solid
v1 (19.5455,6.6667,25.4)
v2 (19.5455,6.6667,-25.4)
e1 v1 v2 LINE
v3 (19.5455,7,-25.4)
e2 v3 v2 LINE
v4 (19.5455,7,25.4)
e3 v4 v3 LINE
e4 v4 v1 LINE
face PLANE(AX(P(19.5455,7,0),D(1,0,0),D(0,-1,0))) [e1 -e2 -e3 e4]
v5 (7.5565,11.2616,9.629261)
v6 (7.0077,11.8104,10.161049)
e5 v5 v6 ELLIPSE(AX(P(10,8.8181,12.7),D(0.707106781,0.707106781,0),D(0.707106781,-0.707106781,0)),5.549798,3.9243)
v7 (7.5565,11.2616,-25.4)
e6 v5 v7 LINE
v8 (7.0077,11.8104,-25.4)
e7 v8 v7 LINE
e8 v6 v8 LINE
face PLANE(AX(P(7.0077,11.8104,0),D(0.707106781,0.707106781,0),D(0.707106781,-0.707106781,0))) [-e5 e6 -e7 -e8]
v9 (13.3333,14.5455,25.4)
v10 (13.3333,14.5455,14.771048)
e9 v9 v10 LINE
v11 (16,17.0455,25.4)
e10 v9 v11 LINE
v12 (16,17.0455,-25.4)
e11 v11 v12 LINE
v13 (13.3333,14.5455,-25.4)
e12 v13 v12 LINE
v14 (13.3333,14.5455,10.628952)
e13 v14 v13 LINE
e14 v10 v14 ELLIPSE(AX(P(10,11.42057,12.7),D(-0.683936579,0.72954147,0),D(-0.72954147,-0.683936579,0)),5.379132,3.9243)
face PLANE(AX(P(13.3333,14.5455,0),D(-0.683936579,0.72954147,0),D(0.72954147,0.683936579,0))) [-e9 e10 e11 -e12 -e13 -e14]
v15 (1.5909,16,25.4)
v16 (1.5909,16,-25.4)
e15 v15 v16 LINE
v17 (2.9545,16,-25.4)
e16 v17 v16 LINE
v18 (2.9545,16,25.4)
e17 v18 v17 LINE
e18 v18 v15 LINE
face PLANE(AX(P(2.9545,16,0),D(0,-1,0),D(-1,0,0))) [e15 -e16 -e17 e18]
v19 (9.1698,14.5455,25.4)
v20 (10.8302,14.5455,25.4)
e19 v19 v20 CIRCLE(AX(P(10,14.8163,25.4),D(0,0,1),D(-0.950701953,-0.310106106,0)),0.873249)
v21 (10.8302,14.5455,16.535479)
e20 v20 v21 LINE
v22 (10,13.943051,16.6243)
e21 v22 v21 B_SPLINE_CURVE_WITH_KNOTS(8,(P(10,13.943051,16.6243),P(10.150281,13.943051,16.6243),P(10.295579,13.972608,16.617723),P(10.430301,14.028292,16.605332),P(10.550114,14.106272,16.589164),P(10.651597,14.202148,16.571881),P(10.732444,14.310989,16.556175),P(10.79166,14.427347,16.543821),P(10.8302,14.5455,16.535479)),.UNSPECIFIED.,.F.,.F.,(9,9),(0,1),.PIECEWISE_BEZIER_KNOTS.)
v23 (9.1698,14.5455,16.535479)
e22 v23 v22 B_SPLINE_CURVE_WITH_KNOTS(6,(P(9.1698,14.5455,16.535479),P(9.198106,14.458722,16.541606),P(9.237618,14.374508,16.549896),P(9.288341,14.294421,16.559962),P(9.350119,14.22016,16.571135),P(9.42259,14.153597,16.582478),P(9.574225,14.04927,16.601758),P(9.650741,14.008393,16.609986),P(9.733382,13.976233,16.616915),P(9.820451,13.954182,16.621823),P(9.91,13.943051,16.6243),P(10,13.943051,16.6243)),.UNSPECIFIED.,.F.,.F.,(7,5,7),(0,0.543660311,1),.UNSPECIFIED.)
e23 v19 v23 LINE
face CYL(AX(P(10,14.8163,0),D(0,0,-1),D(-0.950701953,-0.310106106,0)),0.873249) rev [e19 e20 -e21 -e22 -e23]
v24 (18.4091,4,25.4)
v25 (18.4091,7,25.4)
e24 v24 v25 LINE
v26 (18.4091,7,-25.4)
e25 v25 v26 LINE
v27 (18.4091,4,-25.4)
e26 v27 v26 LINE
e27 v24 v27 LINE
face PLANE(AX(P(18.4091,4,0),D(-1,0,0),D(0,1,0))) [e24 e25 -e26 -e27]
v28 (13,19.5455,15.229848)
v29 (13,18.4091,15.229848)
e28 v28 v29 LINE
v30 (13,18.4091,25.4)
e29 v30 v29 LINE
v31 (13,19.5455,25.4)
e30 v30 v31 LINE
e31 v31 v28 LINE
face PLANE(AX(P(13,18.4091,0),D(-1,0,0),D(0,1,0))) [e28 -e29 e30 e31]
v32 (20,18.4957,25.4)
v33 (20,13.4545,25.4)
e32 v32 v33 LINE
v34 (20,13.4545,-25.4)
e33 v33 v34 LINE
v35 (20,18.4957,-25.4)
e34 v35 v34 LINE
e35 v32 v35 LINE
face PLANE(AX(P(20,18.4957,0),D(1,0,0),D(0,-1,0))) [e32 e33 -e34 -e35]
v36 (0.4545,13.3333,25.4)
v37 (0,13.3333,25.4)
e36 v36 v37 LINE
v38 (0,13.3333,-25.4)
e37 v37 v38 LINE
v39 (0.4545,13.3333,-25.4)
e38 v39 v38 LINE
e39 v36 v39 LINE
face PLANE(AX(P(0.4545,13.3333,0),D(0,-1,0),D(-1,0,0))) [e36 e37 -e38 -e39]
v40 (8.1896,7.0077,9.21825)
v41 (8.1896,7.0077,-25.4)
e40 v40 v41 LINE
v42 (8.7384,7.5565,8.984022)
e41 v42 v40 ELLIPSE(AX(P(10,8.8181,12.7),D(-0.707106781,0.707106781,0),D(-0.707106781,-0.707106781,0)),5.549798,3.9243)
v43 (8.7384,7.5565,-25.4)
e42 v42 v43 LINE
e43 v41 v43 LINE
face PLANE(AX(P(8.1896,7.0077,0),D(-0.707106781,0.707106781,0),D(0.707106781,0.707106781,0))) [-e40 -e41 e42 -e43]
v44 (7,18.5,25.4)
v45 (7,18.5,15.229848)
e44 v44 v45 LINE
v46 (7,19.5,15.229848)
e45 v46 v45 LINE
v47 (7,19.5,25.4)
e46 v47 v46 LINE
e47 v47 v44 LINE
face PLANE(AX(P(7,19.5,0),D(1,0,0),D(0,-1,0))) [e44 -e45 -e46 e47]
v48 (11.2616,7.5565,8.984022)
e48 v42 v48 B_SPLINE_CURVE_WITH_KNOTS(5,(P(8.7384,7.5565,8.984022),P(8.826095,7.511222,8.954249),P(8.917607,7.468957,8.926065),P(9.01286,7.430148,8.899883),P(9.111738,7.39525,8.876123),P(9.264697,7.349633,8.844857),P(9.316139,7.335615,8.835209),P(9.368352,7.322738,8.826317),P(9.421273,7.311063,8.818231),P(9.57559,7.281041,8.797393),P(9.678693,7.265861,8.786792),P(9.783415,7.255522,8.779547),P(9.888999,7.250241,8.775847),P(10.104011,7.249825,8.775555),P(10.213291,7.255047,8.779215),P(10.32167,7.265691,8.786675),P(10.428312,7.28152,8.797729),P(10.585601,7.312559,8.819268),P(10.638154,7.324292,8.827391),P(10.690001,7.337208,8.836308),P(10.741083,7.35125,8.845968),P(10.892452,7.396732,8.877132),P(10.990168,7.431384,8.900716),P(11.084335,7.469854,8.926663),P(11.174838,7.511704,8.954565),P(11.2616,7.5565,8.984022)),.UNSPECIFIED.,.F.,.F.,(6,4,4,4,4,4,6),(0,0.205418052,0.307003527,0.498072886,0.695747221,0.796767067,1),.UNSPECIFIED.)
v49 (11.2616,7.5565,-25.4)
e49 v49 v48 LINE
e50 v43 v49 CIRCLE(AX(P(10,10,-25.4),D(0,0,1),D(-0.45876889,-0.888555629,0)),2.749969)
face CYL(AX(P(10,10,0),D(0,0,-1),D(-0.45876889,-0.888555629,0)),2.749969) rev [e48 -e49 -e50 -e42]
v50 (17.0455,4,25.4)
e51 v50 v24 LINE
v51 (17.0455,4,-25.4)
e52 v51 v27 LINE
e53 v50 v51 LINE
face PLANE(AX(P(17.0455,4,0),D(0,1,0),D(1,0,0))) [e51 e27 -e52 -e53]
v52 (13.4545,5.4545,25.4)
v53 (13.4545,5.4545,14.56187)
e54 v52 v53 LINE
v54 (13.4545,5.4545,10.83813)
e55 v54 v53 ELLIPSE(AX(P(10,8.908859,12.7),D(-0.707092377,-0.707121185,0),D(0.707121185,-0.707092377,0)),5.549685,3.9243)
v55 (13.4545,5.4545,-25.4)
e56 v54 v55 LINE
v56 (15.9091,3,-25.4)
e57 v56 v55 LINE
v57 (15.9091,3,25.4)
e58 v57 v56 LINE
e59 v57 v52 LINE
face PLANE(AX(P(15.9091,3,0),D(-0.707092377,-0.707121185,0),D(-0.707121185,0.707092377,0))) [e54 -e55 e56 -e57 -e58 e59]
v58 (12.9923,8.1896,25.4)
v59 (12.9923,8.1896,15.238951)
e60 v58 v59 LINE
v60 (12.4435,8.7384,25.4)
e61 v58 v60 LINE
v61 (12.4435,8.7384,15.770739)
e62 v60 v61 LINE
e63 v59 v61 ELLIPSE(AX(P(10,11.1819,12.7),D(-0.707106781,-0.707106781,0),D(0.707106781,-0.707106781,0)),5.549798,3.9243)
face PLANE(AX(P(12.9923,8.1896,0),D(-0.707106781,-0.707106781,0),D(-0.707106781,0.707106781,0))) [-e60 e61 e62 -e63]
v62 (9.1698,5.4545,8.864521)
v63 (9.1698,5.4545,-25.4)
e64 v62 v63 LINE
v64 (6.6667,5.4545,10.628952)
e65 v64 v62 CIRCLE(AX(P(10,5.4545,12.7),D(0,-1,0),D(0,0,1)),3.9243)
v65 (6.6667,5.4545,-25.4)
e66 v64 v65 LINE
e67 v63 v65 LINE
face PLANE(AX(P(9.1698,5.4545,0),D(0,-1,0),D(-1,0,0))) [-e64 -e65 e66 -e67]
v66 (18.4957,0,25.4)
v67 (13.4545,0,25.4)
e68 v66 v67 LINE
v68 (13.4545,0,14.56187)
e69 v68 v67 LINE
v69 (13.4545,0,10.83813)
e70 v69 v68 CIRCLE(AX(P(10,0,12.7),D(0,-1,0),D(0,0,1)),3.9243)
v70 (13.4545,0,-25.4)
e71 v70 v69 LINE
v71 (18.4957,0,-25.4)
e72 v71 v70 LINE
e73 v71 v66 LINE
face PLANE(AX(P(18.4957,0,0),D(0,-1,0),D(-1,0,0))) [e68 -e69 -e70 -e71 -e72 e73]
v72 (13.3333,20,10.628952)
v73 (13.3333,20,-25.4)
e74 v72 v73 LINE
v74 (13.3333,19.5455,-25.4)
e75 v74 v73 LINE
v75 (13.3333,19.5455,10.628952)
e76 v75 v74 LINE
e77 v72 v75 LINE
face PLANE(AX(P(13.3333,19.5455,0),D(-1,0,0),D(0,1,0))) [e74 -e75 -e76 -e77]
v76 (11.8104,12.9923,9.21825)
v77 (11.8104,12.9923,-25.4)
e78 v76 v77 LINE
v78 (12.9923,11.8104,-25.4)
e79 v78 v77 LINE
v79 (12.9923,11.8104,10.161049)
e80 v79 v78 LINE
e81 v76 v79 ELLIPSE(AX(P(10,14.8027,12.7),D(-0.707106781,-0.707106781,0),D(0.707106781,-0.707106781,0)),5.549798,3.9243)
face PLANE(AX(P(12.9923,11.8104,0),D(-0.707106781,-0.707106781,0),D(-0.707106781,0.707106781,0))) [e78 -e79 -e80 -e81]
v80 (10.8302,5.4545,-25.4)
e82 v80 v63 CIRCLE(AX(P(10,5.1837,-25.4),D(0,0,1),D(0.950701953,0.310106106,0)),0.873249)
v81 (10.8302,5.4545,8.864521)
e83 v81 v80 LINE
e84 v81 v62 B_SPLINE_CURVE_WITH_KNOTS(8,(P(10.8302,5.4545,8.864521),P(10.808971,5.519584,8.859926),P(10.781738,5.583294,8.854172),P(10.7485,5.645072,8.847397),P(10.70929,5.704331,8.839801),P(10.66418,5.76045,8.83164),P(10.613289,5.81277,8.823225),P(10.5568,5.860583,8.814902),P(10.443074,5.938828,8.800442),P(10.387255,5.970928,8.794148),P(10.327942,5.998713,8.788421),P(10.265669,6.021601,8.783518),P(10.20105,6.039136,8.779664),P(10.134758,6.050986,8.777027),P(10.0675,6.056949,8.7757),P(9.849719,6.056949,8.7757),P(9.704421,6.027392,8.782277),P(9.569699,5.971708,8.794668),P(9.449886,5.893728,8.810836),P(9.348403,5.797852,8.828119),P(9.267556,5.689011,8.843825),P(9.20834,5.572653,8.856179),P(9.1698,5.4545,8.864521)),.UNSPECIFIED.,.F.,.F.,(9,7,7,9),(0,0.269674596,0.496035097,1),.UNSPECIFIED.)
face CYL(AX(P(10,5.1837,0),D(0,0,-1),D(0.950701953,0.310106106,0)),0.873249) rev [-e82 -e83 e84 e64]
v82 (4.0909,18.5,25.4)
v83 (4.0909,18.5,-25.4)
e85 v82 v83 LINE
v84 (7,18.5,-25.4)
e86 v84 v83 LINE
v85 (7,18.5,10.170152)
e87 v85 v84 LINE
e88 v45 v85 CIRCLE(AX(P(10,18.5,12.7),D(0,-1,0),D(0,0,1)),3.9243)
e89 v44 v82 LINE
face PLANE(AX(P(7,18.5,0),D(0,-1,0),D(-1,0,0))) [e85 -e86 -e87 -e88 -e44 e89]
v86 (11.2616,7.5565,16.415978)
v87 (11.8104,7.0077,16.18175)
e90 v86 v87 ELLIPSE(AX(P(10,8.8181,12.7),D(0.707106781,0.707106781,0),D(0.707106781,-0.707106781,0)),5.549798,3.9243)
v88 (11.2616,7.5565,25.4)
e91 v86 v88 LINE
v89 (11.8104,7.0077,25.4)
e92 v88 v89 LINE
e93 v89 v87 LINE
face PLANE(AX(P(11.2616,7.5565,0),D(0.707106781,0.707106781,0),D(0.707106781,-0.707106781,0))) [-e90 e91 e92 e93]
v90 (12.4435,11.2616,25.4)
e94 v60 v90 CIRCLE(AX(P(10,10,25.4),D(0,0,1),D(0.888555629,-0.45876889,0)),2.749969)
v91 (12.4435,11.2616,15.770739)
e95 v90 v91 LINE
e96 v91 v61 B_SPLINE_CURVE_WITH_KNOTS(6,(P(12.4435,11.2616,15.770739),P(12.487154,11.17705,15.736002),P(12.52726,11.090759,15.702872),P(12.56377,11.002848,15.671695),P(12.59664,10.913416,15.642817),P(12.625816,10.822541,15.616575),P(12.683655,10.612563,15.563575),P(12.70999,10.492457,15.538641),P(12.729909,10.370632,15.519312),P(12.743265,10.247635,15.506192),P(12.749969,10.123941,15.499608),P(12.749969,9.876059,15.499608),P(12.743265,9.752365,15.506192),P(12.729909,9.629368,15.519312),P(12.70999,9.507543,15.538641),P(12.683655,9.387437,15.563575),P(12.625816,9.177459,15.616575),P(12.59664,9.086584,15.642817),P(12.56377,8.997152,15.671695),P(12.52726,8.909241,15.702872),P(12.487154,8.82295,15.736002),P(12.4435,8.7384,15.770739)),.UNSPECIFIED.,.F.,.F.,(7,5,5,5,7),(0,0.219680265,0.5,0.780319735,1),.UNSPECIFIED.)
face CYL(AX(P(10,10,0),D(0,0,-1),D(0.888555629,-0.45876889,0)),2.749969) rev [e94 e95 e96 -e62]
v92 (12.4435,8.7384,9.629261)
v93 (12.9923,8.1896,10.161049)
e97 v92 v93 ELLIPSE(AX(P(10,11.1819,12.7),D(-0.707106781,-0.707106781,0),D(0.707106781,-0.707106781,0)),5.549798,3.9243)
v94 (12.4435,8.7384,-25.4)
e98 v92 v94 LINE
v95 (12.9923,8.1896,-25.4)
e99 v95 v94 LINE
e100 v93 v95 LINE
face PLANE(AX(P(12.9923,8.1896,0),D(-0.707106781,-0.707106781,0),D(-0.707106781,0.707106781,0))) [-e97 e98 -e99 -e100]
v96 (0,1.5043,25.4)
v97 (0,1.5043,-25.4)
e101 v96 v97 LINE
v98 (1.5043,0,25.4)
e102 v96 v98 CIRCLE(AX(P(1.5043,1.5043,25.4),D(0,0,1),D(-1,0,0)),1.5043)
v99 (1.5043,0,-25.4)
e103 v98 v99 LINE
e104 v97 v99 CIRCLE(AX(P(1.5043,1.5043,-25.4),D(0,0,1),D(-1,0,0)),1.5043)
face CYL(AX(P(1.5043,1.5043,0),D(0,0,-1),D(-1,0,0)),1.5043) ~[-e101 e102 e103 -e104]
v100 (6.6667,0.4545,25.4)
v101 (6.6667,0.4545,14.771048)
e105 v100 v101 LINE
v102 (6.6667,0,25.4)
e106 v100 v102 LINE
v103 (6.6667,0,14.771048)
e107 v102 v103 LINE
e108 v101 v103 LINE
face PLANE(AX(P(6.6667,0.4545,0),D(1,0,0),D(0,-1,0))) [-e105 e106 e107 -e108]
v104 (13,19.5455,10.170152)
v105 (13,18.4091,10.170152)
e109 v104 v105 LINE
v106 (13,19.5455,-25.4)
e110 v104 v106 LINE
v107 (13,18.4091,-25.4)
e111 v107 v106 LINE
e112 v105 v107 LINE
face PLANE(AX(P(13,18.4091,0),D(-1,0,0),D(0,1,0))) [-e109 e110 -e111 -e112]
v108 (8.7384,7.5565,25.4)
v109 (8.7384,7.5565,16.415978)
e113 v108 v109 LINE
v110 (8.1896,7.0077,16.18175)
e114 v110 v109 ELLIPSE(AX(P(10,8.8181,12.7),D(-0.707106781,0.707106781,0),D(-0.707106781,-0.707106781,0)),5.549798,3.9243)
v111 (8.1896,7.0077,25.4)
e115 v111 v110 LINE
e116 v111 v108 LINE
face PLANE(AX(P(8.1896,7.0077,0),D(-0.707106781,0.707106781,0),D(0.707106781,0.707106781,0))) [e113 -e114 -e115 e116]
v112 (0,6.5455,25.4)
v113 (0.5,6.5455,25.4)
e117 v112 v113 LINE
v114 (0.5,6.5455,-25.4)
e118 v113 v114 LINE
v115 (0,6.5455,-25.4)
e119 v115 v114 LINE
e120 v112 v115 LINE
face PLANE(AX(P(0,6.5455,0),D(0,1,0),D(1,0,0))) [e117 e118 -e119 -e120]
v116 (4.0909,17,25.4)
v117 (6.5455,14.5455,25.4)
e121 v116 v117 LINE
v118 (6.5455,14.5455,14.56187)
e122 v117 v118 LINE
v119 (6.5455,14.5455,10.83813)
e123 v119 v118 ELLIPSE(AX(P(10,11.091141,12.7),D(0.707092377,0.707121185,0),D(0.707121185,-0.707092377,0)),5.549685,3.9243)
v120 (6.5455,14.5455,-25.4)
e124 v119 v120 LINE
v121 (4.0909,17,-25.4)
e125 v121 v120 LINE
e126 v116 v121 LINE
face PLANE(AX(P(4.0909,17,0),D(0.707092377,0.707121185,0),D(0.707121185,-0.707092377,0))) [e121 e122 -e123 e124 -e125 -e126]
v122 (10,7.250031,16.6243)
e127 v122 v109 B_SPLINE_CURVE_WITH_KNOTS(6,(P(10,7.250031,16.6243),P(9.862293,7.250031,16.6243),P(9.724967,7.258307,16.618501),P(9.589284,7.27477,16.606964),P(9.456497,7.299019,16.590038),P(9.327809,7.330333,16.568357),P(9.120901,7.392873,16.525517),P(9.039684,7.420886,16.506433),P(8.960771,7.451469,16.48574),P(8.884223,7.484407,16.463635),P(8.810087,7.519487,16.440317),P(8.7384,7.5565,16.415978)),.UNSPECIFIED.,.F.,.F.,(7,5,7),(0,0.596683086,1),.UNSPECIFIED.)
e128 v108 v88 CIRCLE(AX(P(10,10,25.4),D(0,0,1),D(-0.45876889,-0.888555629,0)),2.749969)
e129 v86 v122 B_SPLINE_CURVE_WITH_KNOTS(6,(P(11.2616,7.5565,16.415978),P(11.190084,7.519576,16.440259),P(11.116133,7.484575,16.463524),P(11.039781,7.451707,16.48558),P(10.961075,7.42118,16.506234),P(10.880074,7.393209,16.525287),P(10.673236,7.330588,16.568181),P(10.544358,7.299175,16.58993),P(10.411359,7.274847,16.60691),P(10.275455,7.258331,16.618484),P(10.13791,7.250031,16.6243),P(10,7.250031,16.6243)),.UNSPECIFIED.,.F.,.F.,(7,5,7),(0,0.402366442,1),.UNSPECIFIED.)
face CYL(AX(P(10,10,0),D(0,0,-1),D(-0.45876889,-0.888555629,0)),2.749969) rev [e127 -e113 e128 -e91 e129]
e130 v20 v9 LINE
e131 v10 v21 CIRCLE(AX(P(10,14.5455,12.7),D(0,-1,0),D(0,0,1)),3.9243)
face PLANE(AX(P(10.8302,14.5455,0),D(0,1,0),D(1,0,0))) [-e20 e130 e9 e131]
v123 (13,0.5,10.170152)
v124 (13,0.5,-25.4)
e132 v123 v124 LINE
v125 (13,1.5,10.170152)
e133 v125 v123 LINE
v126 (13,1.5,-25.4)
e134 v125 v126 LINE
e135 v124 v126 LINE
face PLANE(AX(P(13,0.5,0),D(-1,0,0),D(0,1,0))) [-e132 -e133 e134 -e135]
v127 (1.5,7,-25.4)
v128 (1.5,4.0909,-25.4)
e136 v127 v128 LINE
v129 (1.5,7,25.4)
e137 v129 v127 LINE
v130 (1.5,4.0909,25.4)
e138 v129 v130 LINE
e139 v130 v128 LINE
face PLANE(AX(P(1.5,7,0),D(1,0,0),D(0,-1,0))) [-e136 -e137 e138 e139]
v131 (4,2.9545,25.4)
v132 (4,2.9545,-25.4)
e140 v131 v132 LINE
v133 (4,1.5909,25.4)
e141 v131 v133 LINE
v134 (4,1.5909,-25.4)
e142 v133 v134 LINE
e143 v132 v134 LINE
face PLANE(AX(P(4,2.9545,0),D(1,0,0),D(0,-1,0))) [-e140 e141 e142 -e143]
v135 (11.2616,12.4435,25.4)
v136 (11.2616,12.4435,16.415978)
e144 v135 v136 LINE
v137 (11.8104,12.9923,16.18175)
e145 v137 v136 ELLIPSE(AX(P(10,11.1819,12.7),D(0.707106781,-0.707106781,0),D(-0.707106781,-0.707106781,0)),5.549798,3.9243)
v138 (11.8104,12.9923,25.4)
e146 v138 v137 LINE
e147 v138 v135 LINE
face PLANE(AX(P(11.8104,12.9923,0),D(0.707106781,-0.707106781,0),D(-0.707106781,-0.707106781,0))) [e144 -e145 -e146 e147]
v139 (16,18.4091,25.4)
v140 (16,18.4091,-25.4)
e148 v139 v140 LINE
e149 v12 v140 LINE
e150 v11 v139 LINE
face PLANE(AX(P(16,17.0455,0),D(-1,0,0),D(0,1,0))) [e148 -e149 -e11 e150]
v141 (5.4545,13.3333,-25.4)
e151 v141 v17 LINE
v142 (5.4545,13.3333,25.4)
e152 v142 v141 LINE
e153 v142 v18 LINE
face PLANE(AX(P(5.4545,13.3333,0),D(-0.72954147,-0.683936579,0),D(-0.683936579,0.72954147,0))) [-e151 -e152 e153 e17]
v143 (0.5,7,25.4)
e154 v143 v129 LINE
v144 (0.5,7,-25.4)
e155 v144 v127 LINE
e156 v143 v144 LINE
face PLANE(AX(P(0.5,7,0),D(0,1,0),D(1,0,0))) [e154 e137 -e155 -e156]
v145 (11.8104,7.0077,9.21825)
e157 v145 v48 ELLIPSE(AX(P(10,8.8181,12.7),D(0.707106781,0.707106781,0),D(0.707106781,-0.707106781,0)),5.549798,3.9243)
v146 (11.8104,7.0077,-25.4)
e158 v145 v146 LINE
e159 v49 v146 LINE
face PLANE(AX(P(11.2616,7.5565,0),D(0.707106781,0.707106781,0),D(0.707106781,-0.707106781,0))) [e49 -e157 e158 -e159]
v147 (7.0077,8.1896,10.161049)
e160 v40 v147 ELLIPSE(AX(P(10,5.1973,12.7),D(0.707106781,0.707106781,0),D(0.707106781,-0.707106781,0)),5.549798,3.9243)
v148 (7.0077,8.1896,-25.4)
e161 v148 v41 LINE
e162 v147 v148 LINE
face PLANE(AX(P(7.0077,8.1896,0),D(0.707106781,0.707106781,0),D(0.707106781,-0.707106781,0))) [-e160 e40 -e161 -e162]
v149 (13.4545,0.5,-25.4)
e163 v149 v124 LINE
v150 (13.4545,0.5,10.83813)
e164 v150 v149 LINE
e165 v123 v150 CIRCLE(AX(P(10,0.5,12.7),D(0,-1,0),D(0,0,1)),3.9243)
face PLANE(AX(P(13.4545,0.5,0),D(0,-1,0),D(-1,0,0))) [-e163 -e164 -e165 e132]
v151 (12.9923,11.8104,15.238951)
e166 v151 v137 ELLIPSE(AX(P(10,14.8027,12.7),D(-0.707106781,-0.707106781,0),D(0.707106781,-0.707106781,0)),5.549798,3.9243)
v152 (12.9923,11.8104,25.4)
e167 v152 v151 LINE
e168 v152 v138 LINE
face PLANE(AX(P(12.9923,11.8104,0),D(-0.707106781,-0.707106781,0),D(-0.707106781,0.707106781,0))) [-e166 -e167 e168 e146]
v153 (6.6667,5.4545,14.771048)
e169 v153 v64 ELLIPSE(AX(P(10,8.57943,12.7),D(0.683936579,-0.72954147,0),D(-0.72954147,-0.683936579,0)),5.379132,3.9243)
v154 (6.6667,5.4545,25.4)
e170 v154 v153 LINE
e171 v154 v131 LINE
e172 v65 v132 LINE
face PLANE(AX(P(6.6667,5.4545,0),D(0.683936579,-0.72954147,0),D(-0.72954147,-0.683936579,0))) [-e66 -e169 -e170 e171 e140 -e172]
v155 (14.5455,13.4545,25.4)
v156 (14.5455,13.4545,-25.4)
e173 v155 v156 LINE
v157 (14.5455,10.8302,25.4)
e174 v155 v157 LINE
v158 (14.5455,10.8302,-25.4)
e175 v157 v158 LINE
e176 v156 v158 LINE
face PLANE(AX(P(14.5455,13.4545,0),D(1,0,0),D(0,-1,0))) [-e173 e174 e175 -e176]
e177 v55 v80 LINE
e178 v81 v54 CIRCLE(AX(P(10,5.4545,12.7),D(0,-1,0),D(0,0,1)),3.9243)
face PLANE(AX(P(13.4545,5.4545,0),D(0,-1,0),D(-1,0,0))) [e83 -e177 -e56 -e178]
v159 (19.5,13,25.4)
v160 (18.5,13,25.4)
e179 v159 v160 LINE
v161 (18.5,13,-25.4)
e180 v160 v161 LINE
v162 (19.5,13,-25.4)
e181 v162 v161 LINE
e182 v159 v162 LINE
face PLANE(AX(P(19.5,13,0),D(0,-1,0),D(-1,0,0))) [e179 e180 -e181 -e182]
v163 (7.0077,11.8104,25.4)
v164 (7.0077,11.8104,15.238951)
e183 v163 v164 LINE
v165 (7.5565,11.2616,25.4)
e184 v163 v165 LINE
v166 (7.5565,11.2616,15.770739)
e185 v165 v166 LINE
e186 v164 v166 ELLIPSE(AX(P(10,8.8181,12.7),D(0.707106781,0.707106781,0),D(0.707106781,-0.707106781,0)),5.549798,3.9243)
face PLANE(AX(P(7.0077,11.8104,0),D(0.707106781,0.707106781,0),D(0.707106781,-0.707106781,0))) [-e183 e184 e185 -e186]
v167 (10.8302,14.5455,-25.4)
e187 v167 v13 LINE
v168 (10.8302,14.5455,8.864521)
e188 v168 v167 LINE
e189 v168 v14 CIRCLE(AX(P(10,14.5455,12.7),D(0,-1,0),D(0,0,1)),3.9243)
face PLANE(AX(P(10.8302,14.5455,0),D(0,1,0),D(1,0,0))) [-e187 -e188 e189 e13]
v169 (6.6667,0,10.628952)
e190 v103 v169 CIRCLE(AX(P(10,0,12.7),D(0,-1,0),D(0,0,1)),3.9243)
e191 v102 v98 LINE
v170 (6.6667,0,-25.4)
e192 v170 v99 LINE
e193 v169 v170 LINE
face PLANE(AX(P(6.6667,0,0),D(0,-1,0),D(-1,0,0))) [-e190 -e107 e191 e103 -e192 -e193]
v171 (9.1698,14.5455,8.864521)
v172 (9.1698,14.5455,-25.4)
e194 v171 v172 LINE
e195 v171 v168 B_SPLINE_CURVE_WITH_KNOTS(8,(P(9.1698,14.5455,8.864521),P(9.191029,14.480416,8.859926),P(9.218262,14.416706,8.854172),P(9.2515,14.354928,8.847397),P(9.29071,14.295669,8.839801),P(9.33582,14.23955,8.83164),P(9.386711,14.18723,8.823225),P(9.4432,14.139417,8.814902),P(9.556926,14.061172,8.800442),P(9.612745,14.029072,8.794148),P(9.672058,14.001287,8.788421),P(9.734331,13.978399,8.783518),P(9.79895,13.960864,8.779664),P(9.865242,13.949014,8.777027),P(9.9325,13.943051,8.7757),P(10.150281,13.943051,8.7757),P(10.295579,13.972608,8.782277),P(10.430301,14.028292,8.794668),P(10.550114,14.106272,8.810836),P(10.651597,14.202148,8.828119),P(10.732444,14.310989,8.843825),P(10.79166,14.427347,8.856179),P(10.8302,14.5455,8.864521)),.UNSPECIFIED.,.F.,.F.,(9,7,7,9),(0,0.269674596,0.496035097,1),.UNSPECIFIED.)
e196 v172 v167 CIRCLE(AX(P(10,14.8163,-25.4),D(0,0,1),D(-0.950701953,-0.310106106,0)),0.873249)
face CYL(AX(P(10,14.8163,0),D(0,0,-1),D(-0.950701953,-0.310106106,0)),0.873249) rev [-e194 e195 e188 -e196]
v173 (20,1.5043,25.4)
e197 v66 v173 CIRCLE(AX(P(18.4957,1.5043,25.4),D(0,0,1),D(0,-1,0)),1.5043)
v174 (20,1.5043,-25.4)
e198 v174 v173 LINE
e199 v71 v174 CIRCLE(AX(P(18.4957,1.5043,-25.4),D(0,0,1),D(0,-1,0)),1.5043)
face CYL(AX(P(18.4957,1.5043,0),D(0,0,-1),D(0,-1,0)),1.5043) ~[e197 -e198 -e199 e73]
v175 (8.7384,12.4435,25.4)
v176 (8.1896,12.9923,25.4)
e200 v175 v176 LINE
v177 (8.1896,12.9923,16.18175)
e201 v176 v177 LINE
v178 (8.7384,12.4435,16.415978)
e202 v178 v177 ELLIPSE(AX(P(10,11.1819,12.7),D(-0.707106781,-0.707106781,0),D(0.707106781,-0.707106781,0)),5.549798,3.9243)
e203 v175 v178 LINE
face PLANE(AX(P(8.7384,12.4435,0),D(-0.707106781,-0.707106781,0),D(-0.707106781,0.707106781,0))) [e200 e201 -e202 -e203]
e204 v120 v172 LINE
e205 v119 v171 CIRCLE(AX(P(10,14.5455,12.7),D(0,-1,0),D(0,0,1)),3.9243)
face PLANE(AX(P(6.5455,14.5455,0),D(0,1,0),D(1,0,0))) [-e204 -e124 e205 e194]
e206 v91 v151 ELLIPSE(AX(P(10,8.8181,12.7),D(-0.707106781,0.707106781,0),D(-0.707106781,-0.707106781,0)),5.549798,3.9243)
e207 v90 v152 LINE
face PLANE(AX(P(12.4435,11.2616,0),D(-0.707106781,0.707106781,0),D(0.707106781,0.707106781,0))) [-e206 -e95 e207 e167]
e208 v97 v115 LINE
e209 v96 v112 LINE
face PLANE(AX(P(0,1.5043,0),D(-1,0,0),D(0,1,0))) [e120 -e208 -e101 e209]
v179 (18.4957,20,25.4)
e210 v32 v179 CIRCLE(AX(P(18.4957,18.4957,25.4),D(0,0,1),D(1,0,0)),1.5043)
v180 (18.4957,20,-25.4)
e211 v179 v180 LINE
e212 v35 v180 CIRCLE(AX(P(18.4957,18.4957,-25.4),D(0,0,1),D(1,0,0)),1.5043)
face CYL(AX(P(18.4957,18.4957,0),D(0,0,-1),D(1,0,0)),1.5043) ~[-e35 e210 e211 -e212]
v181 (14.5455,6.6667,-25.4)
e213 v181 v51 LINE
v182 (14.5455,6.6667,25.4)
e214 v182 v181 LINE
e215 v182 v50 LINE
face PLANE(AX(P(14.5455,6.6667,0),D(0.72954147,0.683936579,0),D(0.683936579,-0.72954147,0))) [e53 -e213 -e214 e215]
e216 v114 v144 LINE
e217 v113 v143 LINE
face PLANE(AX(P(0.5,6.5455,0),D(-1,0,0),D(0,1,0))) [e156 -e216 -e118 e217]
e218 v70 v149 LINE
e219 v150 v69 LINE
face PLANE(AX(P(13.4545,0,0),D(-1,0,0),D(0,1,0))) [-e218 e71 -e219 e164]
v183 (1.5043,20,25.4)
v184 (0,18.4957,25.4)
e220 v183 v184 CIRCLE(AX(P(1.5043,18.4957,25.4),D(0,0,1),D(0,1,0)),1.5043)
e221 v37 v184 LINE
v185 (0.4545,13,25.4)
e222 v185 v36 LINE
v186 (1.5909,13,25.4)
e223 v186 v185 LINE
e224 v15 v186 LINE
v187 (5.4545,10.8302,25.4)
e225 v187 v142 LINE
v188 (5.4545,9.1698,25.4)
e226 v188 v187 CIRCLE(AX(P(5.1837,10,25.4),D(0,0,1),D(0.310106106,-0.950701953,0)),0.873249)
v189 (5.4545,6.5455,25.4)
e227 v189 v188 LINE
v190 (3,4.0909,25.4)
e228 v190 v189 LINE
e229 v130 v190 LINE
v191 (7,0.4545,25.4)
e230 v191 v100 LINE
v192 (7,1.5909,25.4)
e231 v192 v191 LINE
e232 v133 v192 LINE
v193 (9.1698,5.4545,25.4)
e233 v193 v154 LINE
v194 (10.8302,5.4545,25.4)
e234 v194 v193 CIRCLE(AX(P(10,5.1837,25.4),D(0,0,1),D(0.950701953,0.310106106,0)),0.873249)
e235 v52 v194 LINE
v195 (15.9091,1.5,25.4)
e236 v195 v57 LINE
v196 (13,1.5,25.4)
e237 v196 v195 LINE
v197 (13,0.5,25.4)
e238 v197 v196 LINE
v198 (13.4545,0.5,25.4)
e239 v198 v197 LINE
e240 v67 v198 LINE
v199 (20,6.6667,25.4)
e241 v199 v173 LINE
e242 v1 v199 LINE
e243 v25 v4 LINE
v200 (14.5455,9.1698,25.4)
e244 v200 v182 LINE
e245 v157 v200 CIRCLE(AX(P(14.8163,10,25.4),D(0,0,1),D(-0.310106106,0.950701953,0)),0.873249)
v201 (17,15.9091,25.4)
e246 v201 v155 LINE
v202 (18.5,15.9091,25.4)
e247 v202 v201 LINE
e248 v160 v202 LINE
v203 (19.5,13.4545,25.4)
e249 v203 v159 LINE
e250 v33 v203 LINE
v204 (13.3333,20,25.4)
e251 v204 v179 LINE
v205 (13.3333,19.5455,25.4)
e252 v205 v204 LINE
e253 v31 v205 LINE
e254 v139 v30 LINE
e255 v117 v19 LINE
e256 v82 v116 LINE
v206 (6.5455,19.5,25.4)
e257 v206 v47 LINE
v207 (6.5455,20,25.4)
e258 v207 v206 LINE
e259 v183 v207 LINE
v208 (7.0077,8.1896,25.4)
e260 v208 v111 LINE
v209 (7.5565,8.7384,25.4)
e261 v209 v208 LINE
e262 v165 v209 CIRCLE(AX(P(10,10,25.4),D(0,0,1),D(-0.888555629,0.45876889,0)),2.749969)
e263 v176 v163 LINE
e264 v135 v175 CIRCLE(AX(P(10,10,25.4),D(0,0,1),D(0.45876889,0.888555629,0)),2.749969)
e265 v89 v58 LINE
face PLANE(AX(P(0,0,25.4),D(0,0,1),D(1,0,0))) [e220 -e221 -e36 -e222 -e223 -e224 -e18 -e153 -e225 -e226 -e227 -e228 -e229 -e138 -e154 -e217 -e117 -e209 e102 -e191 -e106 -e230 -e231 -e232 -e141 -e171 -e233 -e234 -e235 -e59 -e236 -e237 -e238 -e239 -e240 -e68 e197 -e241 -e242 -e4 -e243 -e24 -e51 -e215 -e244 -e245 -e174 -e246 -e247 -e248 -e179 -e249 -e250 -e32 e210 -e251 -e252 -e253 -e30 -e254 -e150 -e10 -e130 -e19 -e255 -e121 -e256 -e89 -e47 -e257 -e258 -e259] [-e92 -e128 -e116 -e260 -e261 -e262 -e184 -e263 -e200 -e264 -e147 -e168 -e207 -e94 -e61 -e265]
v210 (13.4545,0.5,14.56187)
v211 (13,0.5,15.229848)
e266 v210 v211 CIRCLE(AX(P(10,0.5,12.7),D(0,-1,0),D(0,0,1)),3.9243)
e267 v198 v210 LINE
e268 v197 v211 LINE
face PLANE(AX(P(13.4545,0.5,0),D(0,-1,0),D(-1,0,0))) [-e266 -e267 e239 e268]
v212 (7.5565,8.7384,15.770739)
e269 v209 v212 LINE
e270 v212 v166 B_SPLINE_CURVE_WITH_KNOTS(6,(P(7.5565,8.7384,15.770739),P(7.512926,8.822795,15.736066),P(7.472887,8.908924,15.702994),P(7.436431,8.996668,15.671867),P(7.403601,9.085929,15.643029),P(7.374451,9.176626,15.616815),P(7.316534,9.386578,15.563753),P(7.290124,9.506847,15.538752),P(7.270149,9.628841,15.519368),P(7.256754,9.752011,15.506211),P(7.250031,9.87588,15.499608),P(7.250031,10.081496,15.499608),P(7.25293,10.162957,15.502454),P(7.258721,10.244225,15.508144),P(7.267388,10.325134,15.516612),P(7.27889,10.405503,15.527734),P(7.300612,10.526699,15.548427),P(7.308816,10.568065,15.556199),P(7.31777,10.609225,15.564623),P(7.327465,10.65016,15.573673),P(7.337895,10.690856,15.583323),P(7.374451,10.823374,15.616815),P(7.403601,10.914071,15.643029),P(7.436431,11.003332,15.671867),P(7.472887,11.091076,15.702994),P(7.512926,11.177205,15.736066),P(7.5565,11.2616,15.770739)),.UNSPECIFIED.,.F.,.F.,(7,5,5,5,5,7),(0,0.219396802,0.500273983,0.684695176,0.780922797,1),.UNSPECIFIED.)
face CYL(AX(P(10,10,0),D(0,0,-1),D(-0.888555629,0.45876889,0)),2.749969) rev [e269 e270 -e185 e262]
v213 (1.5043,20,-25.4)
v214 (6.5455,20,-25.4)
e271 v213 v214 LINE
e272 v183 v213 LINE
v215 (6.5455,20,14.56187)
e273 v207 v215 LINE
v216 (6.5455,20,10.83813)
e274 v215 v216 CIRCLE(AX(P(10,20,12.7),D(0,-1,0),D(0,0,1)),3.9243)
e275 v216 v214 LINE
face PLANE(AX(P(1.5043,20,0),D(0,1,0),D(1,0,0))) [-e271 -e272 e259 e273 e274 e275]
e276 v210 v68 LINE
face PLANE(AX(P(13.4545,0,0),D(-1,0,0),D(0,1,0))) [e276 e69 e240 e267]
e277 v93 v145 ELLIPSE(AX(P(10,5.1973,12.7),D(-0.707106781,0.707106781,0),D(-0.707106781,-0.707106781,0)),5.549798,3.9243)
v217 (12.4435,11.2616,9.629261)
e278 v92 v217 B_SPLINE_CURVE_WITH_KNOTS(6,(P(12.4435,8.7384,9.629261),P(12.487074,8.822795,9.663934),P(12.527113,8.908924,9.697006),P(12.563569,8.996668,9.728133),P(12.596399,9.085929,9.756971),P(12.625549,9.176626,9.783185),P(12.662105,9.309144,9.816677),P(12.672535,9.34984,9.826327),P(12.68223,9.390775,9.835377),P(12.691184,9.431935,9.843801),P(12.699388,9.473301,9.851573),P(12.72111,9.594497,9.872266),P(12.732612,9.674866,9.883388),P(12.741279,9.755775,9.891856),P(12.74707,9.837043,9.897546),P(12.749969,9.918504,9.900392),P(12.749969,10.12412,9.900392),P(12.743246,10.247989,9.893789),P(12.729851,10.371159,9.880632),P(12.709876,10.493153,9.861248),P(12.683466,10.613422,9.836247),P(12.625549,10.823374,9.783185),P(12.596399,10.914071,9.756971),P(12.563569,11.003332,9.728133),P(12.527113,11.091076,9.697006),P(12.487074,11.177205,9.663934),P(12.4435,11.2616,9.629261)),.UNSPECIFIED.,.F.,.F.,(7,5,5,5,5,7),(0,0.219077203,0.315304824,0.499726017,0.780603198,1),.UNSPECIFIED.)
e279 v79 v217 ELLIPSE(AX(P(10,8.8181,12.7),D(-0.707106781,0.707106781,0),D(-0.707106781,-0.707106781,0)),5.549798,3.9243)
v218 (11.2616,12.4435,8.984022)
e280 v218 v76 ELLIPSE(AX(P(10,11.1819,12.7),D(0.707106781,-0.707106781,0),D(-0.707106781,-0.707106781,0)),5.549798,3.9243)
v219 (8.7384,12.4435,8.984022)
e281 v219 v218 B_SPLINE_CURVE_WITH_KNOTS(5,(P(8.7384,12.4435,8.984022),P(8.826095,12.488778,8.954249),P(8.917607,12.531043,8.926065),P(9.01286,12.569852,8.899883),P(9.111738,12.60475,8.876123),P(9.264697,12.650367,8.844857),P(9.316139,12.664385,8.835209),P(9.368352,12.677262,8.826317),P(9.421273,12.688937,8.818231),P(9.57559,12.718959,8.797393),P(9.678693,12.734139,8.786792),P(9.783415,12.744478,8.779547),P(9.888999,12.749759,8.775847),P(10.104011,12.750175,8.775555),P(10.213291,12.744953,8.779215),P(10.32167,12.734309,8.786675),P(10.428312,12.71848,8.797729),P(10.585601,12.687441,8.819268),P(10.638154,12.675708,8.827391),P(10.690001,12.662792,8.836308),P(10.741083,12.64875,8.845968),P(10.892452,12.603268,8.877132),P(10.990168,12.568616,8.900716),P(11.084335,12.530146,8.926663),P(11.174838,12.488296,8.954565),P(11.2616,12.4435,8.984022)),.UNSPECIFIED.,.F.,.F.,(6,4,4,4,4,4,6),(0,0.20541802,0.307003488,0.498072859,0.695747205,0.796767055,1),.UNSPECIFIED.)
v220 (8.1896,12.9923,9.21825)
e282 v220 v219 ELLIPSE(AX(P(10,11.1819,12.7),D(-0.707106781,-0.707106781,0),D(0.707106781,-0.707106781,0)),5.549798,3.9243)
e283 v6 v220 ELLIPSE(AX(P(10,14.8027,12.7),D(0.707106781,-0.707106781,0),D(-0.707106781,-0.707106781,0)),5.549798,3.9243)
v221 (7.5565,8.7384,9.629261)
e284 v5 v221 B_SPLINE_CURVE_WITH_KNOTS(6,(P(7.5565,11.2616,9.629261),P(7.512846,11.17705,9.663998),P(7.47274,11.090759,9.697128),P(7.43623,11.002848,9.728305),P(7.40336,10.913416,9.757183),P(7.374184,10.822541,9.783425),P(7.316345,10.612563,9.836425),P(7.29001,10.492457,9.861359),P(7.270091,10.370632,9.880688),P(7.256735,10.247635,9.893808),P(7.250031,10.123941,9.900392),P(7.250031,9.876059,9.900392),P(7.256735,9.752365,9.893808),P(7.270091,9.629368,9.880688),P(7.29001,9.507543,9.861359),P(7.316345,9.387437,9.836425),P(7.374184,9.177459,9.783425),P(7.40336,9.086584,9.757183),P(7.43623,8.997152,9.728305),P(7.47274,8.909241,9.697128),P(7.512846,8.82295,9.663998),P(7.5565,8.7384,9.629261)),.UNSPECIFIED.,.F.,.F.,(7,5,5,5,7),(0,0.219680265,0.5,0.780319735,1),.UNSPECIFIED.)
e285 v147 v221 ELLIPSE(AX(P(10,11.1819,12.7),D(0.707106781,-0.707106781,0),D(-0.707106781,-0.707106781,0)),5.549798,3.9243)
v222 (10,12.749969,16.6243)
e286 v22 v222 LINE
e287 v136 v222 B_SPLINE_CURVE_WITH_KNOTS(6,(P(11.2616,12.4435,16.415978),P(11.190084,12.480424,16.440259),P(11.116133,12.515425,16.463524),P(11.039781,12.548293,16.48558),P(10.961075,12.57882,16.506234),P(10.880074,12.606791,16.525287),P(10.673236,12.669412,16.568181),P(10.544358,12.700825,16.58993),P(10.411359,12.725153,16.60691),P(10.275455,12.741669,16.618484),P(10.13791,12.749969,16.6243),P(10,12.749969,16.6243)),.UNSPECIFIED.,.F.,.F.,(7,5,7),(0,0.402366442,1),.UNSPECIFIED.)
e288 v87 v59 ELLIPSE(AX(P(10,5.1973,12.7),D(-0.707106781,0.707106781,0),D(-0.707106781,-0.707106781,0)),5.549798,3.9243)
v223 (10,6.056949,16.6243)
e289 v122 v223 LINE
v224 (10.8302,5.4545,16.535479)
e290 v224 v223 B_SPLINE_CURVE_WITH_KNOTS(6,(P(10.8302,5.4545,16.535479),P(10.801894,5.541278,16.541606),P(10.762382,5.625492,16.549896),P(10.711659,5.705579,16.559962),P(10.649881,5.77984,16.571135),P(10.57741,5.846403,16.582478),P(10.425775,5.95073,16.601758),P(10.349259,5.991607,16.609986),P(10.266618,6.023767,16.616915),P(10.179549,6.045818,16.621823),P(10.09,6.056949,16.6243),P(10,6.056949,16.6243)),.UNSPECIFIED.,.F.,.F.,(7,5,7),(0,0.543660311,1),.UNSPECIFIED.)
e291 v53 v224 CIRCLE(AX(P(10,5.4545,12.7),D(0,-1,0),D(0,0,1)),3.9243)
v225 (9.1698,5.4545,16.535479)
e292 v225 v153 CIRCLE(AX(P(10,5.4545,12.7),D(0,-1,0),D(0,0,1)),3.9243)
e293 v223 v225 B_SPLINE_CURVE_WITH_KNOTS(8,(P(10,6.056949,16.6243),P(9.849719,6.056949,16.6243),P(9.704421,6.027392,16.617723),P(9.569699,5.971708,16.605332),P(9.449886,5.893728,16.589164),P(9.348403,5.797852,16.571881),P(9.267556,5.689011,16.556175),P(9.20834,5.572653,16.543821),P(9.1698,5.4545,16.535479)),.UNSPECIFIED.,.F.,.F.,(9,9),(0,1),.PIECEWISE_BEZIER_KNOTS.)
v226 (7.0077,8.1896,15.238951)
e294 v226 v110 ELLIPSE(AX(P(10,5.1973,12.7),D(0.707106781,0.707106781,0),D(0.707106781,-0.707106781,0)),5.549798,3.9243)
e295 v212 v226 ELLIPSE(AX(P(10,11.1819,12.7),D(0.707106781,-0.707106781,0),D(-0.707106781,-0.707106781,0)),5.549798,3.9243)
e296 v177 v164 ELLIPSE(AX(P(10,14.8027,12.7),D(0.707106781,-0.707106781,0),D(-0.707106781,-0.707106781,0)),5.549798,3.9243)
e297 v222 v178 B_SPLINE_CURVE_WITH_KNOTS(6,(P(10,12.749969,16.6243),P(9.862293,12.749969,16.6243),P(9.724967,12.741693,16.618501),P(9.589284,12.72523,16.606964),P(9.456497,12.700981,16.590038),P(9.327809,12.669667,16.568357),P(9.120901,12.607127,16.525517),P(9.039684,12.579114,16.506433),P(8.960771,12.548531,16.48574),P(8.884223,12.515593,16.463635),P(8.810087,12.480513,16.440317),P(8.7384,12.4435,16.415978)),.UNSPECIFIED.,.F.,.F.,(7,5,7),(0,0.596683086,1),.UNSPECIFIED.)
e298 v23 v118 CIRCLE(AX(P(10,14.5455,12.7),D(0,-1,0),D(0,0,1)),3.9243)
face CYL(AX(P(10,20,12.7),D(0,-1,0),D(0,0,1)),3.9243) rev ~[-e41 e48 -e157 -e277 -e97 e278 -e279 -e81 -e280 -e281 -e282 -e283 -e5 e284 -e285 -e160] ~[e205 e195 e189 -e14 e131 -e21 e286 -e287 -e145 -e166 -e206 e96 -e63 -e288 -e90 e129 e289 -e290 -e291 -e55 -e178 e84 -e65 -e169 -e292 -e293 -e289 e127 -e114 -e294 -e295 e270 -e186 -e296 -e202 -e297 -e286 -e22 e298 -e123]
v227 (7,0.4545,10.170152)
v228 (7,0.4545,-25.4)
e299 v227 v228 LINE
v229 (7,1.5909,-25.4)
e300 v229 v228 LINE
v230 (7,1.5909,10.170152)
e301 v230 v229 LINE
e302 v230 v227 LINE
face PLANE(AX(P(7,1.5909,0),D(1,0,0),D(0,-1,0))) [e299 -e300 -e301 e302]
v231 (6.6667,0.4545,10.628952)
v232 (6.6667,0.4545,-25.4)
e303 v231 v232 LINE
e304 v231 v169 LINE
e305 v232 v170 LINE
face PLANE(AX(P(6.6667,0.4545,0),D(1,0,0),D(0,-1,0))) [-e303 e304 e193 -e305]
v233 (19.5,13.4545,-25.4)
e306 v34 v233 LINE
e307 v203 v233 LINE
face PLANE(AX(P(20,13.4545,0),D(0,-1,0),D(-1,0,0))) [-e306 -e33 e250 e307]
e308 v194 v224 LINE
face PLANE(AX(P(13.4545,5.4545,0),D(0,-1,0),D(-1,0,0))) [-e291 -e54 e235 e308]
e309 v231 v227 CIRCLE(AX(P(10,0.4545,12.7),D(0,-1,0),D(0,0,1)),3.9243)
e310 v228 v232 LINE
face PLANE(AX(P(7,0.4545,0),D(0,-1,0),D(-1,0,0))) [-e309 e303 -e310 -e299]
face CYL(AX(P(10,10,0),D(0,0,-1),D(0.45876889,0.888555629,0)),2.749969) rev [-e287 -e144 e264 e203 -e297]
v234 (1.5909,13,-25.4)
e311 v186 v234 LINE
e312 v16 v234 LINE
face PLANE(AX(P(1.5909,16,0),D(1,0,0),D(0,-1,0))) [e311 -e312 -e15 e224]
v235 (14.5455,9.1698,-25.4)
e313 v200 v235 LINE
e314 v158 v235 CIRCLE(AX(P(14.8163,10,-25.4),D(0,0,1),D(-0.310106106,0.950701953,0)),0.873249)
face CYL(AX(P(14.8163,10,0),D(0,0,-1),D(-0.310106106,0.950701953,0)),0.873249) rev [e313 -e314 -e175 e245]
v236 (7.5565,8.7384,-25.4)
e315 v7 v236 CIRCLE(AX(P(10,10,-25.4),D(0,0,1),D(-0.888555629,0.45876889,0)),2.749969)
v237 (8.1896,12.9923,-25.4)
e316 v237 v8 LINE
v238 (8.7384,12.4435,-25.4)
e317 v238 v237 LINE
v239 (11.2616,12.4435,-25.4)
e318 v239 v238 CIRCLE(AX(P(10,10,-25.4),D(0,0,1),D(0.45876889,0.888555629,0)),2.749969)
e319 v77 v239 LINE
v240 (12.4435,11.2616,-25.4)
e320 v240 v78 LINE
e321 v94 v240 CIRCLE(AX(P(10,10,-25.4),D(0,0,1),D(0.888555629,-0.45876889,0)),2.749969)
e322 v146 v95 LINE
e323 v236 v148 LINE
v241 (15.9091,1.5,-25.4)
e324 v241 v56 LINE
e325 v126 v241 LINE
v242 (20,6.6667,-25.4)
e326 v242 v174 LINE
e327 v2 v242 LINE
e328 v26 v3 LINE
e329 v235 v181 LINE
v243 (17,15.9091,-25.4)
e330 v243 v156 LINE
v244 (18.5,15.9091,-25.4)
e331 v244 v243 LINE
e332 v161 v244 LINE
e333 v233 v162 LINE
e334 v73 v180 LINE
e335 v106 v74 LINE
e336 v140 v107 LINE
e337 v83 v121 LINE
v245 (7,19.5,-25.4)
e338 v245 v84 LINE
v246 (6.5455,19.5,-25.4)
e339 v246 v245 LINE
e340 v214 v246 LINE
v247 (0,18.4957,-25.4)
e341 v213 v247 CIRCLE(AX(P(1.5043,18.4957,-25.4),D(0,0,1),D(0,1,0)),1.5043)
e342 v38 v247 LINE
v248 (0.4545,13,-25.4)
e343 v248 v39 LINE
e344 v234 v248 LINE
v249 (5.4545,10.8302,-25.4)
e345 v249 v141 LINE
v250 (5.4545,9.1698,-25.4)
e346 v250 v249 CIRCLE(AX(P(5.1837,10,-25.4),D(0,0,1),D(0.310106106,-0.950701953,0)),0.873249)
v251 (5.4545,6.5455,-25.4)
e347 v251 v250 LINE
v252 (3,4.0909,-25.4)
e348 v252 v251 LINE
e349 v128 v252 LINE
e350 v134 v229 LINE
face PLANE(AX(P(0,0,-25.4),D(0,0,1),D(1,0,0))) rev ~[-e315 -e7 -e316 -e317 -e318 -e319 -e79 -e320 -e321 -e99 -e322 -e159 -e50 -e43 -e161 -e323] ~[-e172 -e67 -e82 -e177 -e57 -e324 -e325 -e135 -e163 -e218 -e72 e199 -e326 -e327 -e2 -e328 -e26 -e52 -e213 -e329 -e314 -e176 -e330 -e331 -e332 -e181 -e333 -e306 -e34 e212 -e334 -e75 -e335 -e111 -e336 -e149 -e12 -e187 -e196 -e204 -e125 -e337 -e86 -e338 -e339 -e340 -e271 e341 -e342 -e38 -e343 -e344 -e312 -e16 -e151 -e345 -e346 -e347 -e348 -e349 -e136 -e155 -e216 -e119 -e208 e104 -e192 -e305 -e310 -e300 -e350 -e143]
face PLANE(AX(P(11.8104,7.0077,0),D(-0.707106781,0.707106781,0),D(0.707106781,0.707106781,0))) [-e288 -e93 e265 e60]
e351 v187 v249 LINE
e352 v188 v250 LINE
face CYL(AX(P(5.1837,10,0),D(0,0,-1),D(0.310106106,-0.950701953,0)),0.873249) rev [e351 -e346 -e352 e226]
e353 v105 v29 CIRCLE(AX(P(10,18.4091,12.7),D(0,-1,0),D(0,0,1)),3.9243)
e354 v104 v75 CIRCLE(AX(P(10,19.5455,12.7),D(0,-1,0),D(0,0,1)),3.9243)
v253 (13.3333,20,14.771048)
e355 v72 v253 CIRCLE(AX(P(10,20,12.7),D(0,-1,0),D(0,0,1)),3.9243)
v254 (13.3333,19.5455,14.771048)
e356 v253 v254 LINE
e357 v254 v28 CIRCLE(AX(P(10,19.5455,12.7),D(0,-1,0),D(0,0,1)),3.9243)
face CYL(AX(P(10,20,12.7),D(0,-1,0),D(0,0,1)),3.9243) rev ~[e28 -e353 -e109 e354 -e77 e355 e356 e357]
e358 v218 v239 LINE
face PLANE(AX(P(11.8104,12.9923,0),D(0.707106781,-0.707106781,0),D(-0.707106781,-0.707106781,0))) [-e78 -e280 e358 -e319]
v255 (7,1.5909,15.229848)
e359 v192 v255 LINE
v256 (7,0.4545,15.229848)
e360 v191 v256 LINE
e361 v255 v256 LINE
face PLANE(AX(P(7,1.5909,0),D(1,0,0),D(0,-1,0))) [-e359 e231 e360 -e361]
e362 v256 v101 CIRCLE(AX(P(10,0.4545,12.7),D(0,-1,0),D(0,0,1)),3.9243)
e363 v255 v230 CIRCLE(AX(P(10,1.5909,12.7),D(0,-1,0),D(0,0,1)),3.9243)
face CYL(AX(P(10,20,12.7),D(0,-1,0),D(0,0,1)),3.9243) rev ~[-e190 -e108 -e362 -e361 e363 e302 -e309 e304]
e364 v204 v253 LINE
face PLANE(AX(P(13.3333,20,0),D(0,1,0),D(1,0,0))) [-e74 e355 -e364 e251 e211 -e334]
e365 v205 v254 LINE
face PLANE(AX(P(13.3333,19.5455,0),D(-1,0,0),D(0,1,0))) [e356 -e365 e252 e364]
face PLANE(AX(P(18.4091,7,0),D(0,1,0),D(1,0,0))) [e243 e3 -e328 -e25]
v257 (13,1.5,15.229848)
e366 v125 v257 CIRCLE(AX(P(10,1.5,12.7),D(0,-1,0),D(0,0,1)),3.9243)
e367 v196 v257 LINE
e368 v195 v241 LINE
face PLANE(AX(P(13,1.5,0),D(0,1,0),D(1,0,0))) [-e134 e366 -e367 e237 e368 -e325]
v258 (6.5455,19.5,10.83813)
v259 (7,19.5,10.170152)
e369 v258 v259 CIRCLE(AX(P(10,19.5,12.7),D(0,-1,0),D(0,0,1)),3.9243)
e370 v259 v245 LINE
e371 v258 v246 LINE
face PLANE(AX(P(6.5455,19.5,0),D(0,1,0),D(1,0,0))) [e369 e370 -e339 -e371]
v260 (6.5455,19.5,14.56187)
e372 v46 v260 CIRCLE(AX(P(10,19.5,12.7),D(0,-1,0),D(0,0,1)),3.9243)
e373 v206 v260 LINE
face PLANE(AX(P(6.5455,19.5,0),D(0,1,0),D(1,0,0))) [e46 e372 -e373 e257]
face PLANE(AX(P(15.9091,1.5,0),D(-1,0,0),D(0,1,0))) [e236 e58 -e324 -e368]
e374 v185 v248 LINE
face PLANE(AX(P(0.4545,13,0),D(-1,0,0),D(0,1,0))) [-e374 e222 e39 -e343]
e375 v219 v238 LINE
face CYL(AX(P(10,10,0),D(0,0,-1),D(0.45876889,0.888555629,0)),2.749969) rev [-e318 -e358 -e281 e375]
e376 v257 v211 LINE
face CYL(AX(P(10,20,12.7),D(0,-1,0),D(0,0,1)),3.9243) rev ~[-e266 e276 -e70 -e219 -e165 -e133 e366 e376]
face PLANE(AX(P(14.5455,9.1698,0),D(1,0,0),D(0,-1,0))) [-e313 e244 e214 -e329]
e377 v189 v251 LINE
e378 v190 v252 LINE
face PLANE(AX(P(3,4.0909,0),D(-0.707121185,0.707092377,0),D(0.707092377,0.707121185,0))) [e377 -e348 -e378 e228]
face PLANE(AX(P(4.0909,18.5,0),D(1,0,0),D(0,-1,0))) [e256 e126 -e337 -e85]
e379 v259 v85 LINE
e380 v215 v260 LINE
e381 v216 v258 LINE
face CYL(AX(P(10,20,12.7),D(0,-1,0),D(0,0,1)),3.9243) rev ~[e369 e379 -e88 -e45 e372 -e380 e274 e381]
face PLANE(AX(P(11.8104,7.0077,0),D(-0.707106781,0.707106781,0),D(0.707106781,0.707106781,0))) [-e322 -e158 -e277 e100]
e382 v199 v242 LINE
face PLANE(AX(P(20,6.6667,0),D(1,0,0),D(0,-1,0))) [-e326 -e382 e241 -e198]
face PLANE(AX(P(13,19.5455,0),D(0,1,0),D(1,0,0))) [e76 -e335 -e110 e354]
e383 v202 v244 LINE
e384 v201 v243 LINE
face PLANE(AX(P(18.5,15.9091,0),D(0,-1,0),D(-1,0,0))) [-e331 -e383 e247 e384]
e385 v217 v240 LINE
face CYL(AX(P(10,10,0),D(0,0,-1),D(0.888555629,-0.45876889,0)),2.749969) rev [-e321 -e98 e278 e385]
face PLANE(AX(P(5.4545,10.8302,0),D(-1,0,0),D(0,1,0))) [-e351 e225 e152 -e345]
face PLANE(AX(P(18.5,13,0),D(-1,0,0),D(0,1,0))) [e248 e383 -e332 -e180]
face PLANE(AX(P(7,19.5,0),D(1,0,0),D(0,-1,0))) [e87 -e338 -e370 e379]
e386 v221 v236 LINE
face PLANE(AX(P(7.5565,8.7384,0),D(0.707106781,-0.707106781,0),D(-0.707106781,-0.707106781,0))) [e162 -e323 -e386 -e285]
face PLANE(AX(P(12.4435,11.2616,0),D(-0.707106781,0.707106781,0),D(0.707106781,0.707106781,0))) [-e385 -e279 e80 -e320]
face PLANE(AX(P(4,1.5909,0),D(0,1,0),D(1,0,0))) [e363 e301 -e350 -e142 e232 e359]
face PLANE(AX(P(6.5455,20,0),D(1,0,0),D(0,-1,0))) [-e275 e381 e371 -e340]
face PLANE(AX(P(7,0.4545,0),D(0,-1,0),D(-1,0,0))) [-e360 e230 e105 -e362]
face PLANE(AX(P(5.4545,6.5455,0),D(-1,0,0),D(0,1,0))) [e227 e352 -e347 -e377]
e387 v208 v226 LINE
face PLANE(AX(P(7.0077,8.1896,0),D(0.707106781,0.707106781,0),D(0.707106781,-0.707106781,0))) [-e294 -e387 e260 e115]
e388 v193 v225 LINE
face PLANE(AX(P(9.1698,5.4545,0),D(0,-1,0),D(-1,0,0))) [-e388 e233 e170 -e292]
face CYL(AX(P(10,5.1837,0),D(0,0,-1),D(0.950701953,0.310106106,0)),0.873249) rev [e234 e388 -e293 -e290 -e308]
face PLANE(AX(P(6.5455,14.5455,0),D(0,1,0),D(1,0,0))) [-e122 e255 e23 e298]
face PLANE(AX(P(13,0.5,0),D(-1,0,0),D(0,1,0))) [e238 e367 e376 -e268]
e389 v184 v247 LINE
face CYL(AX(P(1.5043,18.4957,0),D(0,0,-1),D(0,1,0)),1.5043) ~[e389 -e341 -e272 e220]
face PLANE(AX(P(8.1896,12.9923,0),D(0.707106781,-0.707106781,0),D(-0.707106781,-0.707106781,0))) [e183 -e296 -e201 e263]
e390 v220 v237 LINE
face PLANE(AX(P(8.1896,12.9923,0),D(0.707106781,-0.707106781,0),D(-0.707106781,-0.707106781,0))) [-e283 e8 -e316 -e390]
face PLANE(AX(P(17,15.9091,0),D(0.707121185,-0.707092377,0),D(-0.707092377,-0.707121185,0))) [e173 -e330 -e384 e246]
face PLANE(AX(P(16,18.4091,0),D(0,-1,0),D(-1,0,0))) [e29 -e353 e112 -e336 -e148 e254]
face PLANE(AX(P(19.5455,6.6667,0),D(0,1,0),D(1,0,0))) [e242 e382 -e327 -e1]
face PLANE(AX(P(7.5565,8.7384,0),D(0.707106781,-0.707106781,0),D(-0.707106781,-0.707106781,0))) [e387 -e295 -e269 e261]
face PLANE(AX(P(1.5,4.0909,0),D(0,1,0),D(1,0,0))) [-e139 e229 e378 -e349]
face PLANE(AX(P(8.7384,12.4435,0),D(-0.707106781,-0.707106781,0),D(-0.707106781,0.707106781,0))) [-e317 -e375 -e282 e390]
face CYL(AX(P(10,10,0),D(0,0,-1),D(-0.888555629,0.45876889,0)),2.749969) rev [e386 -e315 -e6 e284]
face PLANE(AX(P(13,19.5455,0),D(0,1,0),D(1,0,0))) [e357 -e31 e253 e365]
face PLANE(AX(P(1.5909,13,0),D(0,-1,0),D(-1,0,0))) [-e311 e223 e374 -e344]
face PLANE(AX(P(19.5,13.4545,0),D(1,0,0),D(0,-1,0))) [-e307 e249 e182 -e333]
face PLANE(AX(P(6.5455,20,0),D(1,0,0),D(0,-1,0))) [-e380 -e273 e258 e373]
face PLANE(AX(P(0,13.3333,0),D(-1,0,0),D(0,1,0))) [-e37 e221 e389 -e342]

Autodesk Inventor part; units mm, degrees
sketch "Sketch1" plane through (0, 0, 0) normal (0, 0, 1) x (1, 0, 0)
  line L0 (11.2616, 7.5565) -> (11.8104, 7.0077)
  line L1 (11.8104, 7.0077) -> (12.9923, 8.1896)
  line L2 (12.9923, 8.1896) -> (12.4435, 8.7384)
  arc A0 (12.4435, 8.7384) -> (12.4435, 11.2616) centre (10, 10) ccw
  line L3 (12.4435, 11.2616) -> (12.9923, 11.8104)
  line L4 (12.9923, 11.8104) -> (11.8104, 12.9923)
  line L5 (11.8104, 12.9923) -> (11.2616, 12.4435)
  arc A1 (11.2616, 12.4435) -> (8.7384, 12.4435) centre (10, 10) ccw
  line L6 (8.7384, 12.4435) -> (8.1896, 12.9923)
  line L7 (8.1896, 12.9923) -> (7.0077, 11.8104)
  line L8 (7.0077, 11.8104) -> (7.5565, 11.2616)
  arc A2 (7.5565, 11.2616) -> (7.5565, 8.7384) centre (10, 10) ccw
  line L9 (7.5565, 8.7384) -> (7.0077, 8.1896)
  line L10 (7.0077, 8.1896) -> (8.1896, 7.0077)
  line L11 (8.1896, 7.0077) -> (8.7384, 7.5565)
  arc A3 (8.7384, 7.5565) -> (11.2616, 7.5565) centre (10, 10) ccw
  line L12 (13.4545, 0) -> (13.4545, 0.5)
  line L13 (13.4545, 0.5) -> (13, 0.5)
  line L14 (13, 0.5) -> (13, 1.5)
  line L15 (13, 1.5) -> (15.9091, 1.5)
  line L16 (15.9091, 1.5) -> (15.9091, 3)
  line L17 (15.9091, 3) -> (13.4545, 5.4545)
  line L18 (13.4545, 5.4545) -> (10.8302, 5.4545)
  arc A4 (10.8302, 5.4545) -> (9.1698, 5.4545) centre (10, 5.1837) ccw
  line L19 (9.1698, 5.4545) -> (6.6667, 5.4545)
  line L20 (6.6667, 5.4545) -> (4, 2.9545)
  line L21 (4, 2.9545) -> (4, 1.5909)
  line L22 (4, 1.5909) -> (7, 1.5909)
  line L23 (7, 1.5909) -> (7, 0.4545)
  line L24 (7, 0.4545) -> (6.6667, 0.4545)
  line L25 (6.6667, 0.4545) -> (6.6667, 0)
  line L26 (6.6667, 0) -> (1.5043, 0)
  arc A5 (0, 1.5043) -> (1.5043, 0) centre (1.5043, 1.5043) ccw
  line L27 (0, 1.5043) -> (0, 6.5455)
  line L28 (0, 6.5455) -> (0.5, 6.5455)
  line L29 (0.5, 6.5455) -> (0.5, 7)
  line L30 (0.5, 7) -> (1.5, 7)
  line L31 (1.5, 7) -> (1.5, 4.0909)
  line L32 (1.5, 4.0909) -> (3, 4.0909)
  line L33 (3, 4.0909) -> (5.4545, 6.5455)
  line L34 (5.4545, 6.5455) -> (5.4545, 9.1698)
  arc A6 (5.4545, 9.1698) -> (5.4545, 10.8302) centre (5.1837, 10) ccw
  line L35 (5.4545, 10.8302) -> (5.4545, 13.3333)
  line L36 (5.4545, 13.3333) -> (2.9545, 16)
  line L37 (2.9545, 16) -> (1.5909, 16)
  line L38 (1.5909, 16) -> (1.5909, 13)
  line L39 (1.5909, 13) -> (0.4545, 13)
  line L40 (0.4545, 13) -> (0.4545, 13.3333)
  line L41 (0.4545, 13.3333) -> (0, 13.3333)
  line L42 (0, 13.3333) -> (0, 18.4957)
  arc A7 (1.5043, 20) -> (0, 18.4957) centre (1.5043, 18.4957) ccw
  line L43 (1.5043, 20) -> (6.5455, 20)
  line L44 (6.5455, 20) -> (6.5455, 19.5)
  line L45 (6.5455, 19.5) -> (7, 19.5)
  line L46 (7, 19.5) -> (7, 18.5)
  line L47 (7, 18.5) -> (4.0909, 18.5)
  line L48 (4.0909, 18.5) -> (4.0909, 17)
  line L49 (4.0909, 17) -> (6.5455, 14.5455)
  line L50 (6.5455, 14.5455) -> (9.1698, 14.5455)
  arc A8 (9.1698, 14.5455) -> (10.8302, 14.5455) centre (10, 14.8163) ccw
  line L51 (10.8302, 14.5455) -> (13.3333, 14.5455)
  line L52 (13.3333, 14.5455) -> (16, 17.0455)
  line L53 (16, 17.0455) -> (16, 18.4091)
  line L54 (16, 18.4091) -> (13, 18.4091)
  line L55 (13, 18.4091) -> (13, 19.5455)
  line L56 (13, 19.5455) -> (13.3333, 19.5455)
  line L57 (13.3333, 19.5455) -> (13.3333, 20)
  line L58 (13.3333, 20) -> (18.4957, 20)
  arc A9 (20, 18.4957) -> (18.4957, 20) centre (18.4957, 18.4957) ccw
  line L59 (20, 18.4957) -> (20, 13.4545)
  line L60 (20, 13.4545) -> (19.5, 13.4545)
  line L61 (19.5, 13.4545) -> (19.5, 13)
  line L62 (19.5, 13) -> (18.5, 13)
  line L63 (18.5, 13) -> (18.5, 15.9091)
  line L64 (18.5, 15.9091) -> (17, 15.9091)
  line L65 (17, 15.9091) -> (14.5455, 13.4545)
  line L66 (14.5455, 13.4545) -> (14.5455, 10.8302)
  arc A10 (14.5455, 10.8302) -> (14.5455, 9.1698) centre (14.8163, 10) ccw
  line L67 (14.5455, 9.1698) -> (14.5455, 6.6667)
  line L68 (14.5455, 6.6667) -> (17.0455, 4)
  line L69 (17.0455, 4) -> (18.4091, 4)
  line L70 (18.4091, 4) -> (18.4091, 7)
  line L71 (18.4091, 7) -> (19.5455, 7)
  line L72 (19.5455, 7) -> (19.5455, 6.6667)
  line L73 (19.5455, 6.6667) -> (20, 6.6667)
  line L74 (20, 6.6667) -> (20, 1.5043)
  arc A11 (18.4957, 0) -> (20, 1.5043) centre (18.4957, 1.5043) ccw
  line L75 (18.4957, 0) -> (13.4545, 0)
  point P0 (0, 0)
  point P1 (0.4406, 0.4406)
  point P2 (10, 0)
  point P3 (10, 0)
  point P4 (10, 0)
  point P5 (19.5594, 0.4406)
  point P6 (0, 10)
  point P7 (0, 10)
  point P8 (0, 10)
  point P9 (10, 10)
  point P10 (20, 10)
  point P11 (20, 10)
  point P12 (20, 10)
  point P13 (0.4406, 19.5594)
  point P14 (10, 20)
  point P15 (10, 20)
  point P16 (10, 20)
  point P17 (19.5594, 19.5594)
extrude "Extrusion1" add sketch "Sketch1" along normal mid plane 50.8
ref_plane "Work Plane1" through (0, 0, 12.7) normal (0, 0, 1) x (1, 0, 0)
ref_plane "Work Plane2" through (1.5043, 20, 25.4) normal (0, 1, 0) x (1, 0, 0)
ref_plane "Work Plane3" through (10, 13.3333, 25.4) normal (-1, 0, 0) x (0, 0, 1)
sketch "Sketch2" plane through (1.5043, 20, 25.4) normal (0, 1, 0) x (1, 0, 0)
  point P0 (-1.5043, 25.4)
  point P1 (8.4957, 12.7)
hole "Hole1" at (10, 20, 12.7) direction (0, -1, 0) diameter 7.8486 depth 25.4 tip angle 118
properties part number "axel support"
